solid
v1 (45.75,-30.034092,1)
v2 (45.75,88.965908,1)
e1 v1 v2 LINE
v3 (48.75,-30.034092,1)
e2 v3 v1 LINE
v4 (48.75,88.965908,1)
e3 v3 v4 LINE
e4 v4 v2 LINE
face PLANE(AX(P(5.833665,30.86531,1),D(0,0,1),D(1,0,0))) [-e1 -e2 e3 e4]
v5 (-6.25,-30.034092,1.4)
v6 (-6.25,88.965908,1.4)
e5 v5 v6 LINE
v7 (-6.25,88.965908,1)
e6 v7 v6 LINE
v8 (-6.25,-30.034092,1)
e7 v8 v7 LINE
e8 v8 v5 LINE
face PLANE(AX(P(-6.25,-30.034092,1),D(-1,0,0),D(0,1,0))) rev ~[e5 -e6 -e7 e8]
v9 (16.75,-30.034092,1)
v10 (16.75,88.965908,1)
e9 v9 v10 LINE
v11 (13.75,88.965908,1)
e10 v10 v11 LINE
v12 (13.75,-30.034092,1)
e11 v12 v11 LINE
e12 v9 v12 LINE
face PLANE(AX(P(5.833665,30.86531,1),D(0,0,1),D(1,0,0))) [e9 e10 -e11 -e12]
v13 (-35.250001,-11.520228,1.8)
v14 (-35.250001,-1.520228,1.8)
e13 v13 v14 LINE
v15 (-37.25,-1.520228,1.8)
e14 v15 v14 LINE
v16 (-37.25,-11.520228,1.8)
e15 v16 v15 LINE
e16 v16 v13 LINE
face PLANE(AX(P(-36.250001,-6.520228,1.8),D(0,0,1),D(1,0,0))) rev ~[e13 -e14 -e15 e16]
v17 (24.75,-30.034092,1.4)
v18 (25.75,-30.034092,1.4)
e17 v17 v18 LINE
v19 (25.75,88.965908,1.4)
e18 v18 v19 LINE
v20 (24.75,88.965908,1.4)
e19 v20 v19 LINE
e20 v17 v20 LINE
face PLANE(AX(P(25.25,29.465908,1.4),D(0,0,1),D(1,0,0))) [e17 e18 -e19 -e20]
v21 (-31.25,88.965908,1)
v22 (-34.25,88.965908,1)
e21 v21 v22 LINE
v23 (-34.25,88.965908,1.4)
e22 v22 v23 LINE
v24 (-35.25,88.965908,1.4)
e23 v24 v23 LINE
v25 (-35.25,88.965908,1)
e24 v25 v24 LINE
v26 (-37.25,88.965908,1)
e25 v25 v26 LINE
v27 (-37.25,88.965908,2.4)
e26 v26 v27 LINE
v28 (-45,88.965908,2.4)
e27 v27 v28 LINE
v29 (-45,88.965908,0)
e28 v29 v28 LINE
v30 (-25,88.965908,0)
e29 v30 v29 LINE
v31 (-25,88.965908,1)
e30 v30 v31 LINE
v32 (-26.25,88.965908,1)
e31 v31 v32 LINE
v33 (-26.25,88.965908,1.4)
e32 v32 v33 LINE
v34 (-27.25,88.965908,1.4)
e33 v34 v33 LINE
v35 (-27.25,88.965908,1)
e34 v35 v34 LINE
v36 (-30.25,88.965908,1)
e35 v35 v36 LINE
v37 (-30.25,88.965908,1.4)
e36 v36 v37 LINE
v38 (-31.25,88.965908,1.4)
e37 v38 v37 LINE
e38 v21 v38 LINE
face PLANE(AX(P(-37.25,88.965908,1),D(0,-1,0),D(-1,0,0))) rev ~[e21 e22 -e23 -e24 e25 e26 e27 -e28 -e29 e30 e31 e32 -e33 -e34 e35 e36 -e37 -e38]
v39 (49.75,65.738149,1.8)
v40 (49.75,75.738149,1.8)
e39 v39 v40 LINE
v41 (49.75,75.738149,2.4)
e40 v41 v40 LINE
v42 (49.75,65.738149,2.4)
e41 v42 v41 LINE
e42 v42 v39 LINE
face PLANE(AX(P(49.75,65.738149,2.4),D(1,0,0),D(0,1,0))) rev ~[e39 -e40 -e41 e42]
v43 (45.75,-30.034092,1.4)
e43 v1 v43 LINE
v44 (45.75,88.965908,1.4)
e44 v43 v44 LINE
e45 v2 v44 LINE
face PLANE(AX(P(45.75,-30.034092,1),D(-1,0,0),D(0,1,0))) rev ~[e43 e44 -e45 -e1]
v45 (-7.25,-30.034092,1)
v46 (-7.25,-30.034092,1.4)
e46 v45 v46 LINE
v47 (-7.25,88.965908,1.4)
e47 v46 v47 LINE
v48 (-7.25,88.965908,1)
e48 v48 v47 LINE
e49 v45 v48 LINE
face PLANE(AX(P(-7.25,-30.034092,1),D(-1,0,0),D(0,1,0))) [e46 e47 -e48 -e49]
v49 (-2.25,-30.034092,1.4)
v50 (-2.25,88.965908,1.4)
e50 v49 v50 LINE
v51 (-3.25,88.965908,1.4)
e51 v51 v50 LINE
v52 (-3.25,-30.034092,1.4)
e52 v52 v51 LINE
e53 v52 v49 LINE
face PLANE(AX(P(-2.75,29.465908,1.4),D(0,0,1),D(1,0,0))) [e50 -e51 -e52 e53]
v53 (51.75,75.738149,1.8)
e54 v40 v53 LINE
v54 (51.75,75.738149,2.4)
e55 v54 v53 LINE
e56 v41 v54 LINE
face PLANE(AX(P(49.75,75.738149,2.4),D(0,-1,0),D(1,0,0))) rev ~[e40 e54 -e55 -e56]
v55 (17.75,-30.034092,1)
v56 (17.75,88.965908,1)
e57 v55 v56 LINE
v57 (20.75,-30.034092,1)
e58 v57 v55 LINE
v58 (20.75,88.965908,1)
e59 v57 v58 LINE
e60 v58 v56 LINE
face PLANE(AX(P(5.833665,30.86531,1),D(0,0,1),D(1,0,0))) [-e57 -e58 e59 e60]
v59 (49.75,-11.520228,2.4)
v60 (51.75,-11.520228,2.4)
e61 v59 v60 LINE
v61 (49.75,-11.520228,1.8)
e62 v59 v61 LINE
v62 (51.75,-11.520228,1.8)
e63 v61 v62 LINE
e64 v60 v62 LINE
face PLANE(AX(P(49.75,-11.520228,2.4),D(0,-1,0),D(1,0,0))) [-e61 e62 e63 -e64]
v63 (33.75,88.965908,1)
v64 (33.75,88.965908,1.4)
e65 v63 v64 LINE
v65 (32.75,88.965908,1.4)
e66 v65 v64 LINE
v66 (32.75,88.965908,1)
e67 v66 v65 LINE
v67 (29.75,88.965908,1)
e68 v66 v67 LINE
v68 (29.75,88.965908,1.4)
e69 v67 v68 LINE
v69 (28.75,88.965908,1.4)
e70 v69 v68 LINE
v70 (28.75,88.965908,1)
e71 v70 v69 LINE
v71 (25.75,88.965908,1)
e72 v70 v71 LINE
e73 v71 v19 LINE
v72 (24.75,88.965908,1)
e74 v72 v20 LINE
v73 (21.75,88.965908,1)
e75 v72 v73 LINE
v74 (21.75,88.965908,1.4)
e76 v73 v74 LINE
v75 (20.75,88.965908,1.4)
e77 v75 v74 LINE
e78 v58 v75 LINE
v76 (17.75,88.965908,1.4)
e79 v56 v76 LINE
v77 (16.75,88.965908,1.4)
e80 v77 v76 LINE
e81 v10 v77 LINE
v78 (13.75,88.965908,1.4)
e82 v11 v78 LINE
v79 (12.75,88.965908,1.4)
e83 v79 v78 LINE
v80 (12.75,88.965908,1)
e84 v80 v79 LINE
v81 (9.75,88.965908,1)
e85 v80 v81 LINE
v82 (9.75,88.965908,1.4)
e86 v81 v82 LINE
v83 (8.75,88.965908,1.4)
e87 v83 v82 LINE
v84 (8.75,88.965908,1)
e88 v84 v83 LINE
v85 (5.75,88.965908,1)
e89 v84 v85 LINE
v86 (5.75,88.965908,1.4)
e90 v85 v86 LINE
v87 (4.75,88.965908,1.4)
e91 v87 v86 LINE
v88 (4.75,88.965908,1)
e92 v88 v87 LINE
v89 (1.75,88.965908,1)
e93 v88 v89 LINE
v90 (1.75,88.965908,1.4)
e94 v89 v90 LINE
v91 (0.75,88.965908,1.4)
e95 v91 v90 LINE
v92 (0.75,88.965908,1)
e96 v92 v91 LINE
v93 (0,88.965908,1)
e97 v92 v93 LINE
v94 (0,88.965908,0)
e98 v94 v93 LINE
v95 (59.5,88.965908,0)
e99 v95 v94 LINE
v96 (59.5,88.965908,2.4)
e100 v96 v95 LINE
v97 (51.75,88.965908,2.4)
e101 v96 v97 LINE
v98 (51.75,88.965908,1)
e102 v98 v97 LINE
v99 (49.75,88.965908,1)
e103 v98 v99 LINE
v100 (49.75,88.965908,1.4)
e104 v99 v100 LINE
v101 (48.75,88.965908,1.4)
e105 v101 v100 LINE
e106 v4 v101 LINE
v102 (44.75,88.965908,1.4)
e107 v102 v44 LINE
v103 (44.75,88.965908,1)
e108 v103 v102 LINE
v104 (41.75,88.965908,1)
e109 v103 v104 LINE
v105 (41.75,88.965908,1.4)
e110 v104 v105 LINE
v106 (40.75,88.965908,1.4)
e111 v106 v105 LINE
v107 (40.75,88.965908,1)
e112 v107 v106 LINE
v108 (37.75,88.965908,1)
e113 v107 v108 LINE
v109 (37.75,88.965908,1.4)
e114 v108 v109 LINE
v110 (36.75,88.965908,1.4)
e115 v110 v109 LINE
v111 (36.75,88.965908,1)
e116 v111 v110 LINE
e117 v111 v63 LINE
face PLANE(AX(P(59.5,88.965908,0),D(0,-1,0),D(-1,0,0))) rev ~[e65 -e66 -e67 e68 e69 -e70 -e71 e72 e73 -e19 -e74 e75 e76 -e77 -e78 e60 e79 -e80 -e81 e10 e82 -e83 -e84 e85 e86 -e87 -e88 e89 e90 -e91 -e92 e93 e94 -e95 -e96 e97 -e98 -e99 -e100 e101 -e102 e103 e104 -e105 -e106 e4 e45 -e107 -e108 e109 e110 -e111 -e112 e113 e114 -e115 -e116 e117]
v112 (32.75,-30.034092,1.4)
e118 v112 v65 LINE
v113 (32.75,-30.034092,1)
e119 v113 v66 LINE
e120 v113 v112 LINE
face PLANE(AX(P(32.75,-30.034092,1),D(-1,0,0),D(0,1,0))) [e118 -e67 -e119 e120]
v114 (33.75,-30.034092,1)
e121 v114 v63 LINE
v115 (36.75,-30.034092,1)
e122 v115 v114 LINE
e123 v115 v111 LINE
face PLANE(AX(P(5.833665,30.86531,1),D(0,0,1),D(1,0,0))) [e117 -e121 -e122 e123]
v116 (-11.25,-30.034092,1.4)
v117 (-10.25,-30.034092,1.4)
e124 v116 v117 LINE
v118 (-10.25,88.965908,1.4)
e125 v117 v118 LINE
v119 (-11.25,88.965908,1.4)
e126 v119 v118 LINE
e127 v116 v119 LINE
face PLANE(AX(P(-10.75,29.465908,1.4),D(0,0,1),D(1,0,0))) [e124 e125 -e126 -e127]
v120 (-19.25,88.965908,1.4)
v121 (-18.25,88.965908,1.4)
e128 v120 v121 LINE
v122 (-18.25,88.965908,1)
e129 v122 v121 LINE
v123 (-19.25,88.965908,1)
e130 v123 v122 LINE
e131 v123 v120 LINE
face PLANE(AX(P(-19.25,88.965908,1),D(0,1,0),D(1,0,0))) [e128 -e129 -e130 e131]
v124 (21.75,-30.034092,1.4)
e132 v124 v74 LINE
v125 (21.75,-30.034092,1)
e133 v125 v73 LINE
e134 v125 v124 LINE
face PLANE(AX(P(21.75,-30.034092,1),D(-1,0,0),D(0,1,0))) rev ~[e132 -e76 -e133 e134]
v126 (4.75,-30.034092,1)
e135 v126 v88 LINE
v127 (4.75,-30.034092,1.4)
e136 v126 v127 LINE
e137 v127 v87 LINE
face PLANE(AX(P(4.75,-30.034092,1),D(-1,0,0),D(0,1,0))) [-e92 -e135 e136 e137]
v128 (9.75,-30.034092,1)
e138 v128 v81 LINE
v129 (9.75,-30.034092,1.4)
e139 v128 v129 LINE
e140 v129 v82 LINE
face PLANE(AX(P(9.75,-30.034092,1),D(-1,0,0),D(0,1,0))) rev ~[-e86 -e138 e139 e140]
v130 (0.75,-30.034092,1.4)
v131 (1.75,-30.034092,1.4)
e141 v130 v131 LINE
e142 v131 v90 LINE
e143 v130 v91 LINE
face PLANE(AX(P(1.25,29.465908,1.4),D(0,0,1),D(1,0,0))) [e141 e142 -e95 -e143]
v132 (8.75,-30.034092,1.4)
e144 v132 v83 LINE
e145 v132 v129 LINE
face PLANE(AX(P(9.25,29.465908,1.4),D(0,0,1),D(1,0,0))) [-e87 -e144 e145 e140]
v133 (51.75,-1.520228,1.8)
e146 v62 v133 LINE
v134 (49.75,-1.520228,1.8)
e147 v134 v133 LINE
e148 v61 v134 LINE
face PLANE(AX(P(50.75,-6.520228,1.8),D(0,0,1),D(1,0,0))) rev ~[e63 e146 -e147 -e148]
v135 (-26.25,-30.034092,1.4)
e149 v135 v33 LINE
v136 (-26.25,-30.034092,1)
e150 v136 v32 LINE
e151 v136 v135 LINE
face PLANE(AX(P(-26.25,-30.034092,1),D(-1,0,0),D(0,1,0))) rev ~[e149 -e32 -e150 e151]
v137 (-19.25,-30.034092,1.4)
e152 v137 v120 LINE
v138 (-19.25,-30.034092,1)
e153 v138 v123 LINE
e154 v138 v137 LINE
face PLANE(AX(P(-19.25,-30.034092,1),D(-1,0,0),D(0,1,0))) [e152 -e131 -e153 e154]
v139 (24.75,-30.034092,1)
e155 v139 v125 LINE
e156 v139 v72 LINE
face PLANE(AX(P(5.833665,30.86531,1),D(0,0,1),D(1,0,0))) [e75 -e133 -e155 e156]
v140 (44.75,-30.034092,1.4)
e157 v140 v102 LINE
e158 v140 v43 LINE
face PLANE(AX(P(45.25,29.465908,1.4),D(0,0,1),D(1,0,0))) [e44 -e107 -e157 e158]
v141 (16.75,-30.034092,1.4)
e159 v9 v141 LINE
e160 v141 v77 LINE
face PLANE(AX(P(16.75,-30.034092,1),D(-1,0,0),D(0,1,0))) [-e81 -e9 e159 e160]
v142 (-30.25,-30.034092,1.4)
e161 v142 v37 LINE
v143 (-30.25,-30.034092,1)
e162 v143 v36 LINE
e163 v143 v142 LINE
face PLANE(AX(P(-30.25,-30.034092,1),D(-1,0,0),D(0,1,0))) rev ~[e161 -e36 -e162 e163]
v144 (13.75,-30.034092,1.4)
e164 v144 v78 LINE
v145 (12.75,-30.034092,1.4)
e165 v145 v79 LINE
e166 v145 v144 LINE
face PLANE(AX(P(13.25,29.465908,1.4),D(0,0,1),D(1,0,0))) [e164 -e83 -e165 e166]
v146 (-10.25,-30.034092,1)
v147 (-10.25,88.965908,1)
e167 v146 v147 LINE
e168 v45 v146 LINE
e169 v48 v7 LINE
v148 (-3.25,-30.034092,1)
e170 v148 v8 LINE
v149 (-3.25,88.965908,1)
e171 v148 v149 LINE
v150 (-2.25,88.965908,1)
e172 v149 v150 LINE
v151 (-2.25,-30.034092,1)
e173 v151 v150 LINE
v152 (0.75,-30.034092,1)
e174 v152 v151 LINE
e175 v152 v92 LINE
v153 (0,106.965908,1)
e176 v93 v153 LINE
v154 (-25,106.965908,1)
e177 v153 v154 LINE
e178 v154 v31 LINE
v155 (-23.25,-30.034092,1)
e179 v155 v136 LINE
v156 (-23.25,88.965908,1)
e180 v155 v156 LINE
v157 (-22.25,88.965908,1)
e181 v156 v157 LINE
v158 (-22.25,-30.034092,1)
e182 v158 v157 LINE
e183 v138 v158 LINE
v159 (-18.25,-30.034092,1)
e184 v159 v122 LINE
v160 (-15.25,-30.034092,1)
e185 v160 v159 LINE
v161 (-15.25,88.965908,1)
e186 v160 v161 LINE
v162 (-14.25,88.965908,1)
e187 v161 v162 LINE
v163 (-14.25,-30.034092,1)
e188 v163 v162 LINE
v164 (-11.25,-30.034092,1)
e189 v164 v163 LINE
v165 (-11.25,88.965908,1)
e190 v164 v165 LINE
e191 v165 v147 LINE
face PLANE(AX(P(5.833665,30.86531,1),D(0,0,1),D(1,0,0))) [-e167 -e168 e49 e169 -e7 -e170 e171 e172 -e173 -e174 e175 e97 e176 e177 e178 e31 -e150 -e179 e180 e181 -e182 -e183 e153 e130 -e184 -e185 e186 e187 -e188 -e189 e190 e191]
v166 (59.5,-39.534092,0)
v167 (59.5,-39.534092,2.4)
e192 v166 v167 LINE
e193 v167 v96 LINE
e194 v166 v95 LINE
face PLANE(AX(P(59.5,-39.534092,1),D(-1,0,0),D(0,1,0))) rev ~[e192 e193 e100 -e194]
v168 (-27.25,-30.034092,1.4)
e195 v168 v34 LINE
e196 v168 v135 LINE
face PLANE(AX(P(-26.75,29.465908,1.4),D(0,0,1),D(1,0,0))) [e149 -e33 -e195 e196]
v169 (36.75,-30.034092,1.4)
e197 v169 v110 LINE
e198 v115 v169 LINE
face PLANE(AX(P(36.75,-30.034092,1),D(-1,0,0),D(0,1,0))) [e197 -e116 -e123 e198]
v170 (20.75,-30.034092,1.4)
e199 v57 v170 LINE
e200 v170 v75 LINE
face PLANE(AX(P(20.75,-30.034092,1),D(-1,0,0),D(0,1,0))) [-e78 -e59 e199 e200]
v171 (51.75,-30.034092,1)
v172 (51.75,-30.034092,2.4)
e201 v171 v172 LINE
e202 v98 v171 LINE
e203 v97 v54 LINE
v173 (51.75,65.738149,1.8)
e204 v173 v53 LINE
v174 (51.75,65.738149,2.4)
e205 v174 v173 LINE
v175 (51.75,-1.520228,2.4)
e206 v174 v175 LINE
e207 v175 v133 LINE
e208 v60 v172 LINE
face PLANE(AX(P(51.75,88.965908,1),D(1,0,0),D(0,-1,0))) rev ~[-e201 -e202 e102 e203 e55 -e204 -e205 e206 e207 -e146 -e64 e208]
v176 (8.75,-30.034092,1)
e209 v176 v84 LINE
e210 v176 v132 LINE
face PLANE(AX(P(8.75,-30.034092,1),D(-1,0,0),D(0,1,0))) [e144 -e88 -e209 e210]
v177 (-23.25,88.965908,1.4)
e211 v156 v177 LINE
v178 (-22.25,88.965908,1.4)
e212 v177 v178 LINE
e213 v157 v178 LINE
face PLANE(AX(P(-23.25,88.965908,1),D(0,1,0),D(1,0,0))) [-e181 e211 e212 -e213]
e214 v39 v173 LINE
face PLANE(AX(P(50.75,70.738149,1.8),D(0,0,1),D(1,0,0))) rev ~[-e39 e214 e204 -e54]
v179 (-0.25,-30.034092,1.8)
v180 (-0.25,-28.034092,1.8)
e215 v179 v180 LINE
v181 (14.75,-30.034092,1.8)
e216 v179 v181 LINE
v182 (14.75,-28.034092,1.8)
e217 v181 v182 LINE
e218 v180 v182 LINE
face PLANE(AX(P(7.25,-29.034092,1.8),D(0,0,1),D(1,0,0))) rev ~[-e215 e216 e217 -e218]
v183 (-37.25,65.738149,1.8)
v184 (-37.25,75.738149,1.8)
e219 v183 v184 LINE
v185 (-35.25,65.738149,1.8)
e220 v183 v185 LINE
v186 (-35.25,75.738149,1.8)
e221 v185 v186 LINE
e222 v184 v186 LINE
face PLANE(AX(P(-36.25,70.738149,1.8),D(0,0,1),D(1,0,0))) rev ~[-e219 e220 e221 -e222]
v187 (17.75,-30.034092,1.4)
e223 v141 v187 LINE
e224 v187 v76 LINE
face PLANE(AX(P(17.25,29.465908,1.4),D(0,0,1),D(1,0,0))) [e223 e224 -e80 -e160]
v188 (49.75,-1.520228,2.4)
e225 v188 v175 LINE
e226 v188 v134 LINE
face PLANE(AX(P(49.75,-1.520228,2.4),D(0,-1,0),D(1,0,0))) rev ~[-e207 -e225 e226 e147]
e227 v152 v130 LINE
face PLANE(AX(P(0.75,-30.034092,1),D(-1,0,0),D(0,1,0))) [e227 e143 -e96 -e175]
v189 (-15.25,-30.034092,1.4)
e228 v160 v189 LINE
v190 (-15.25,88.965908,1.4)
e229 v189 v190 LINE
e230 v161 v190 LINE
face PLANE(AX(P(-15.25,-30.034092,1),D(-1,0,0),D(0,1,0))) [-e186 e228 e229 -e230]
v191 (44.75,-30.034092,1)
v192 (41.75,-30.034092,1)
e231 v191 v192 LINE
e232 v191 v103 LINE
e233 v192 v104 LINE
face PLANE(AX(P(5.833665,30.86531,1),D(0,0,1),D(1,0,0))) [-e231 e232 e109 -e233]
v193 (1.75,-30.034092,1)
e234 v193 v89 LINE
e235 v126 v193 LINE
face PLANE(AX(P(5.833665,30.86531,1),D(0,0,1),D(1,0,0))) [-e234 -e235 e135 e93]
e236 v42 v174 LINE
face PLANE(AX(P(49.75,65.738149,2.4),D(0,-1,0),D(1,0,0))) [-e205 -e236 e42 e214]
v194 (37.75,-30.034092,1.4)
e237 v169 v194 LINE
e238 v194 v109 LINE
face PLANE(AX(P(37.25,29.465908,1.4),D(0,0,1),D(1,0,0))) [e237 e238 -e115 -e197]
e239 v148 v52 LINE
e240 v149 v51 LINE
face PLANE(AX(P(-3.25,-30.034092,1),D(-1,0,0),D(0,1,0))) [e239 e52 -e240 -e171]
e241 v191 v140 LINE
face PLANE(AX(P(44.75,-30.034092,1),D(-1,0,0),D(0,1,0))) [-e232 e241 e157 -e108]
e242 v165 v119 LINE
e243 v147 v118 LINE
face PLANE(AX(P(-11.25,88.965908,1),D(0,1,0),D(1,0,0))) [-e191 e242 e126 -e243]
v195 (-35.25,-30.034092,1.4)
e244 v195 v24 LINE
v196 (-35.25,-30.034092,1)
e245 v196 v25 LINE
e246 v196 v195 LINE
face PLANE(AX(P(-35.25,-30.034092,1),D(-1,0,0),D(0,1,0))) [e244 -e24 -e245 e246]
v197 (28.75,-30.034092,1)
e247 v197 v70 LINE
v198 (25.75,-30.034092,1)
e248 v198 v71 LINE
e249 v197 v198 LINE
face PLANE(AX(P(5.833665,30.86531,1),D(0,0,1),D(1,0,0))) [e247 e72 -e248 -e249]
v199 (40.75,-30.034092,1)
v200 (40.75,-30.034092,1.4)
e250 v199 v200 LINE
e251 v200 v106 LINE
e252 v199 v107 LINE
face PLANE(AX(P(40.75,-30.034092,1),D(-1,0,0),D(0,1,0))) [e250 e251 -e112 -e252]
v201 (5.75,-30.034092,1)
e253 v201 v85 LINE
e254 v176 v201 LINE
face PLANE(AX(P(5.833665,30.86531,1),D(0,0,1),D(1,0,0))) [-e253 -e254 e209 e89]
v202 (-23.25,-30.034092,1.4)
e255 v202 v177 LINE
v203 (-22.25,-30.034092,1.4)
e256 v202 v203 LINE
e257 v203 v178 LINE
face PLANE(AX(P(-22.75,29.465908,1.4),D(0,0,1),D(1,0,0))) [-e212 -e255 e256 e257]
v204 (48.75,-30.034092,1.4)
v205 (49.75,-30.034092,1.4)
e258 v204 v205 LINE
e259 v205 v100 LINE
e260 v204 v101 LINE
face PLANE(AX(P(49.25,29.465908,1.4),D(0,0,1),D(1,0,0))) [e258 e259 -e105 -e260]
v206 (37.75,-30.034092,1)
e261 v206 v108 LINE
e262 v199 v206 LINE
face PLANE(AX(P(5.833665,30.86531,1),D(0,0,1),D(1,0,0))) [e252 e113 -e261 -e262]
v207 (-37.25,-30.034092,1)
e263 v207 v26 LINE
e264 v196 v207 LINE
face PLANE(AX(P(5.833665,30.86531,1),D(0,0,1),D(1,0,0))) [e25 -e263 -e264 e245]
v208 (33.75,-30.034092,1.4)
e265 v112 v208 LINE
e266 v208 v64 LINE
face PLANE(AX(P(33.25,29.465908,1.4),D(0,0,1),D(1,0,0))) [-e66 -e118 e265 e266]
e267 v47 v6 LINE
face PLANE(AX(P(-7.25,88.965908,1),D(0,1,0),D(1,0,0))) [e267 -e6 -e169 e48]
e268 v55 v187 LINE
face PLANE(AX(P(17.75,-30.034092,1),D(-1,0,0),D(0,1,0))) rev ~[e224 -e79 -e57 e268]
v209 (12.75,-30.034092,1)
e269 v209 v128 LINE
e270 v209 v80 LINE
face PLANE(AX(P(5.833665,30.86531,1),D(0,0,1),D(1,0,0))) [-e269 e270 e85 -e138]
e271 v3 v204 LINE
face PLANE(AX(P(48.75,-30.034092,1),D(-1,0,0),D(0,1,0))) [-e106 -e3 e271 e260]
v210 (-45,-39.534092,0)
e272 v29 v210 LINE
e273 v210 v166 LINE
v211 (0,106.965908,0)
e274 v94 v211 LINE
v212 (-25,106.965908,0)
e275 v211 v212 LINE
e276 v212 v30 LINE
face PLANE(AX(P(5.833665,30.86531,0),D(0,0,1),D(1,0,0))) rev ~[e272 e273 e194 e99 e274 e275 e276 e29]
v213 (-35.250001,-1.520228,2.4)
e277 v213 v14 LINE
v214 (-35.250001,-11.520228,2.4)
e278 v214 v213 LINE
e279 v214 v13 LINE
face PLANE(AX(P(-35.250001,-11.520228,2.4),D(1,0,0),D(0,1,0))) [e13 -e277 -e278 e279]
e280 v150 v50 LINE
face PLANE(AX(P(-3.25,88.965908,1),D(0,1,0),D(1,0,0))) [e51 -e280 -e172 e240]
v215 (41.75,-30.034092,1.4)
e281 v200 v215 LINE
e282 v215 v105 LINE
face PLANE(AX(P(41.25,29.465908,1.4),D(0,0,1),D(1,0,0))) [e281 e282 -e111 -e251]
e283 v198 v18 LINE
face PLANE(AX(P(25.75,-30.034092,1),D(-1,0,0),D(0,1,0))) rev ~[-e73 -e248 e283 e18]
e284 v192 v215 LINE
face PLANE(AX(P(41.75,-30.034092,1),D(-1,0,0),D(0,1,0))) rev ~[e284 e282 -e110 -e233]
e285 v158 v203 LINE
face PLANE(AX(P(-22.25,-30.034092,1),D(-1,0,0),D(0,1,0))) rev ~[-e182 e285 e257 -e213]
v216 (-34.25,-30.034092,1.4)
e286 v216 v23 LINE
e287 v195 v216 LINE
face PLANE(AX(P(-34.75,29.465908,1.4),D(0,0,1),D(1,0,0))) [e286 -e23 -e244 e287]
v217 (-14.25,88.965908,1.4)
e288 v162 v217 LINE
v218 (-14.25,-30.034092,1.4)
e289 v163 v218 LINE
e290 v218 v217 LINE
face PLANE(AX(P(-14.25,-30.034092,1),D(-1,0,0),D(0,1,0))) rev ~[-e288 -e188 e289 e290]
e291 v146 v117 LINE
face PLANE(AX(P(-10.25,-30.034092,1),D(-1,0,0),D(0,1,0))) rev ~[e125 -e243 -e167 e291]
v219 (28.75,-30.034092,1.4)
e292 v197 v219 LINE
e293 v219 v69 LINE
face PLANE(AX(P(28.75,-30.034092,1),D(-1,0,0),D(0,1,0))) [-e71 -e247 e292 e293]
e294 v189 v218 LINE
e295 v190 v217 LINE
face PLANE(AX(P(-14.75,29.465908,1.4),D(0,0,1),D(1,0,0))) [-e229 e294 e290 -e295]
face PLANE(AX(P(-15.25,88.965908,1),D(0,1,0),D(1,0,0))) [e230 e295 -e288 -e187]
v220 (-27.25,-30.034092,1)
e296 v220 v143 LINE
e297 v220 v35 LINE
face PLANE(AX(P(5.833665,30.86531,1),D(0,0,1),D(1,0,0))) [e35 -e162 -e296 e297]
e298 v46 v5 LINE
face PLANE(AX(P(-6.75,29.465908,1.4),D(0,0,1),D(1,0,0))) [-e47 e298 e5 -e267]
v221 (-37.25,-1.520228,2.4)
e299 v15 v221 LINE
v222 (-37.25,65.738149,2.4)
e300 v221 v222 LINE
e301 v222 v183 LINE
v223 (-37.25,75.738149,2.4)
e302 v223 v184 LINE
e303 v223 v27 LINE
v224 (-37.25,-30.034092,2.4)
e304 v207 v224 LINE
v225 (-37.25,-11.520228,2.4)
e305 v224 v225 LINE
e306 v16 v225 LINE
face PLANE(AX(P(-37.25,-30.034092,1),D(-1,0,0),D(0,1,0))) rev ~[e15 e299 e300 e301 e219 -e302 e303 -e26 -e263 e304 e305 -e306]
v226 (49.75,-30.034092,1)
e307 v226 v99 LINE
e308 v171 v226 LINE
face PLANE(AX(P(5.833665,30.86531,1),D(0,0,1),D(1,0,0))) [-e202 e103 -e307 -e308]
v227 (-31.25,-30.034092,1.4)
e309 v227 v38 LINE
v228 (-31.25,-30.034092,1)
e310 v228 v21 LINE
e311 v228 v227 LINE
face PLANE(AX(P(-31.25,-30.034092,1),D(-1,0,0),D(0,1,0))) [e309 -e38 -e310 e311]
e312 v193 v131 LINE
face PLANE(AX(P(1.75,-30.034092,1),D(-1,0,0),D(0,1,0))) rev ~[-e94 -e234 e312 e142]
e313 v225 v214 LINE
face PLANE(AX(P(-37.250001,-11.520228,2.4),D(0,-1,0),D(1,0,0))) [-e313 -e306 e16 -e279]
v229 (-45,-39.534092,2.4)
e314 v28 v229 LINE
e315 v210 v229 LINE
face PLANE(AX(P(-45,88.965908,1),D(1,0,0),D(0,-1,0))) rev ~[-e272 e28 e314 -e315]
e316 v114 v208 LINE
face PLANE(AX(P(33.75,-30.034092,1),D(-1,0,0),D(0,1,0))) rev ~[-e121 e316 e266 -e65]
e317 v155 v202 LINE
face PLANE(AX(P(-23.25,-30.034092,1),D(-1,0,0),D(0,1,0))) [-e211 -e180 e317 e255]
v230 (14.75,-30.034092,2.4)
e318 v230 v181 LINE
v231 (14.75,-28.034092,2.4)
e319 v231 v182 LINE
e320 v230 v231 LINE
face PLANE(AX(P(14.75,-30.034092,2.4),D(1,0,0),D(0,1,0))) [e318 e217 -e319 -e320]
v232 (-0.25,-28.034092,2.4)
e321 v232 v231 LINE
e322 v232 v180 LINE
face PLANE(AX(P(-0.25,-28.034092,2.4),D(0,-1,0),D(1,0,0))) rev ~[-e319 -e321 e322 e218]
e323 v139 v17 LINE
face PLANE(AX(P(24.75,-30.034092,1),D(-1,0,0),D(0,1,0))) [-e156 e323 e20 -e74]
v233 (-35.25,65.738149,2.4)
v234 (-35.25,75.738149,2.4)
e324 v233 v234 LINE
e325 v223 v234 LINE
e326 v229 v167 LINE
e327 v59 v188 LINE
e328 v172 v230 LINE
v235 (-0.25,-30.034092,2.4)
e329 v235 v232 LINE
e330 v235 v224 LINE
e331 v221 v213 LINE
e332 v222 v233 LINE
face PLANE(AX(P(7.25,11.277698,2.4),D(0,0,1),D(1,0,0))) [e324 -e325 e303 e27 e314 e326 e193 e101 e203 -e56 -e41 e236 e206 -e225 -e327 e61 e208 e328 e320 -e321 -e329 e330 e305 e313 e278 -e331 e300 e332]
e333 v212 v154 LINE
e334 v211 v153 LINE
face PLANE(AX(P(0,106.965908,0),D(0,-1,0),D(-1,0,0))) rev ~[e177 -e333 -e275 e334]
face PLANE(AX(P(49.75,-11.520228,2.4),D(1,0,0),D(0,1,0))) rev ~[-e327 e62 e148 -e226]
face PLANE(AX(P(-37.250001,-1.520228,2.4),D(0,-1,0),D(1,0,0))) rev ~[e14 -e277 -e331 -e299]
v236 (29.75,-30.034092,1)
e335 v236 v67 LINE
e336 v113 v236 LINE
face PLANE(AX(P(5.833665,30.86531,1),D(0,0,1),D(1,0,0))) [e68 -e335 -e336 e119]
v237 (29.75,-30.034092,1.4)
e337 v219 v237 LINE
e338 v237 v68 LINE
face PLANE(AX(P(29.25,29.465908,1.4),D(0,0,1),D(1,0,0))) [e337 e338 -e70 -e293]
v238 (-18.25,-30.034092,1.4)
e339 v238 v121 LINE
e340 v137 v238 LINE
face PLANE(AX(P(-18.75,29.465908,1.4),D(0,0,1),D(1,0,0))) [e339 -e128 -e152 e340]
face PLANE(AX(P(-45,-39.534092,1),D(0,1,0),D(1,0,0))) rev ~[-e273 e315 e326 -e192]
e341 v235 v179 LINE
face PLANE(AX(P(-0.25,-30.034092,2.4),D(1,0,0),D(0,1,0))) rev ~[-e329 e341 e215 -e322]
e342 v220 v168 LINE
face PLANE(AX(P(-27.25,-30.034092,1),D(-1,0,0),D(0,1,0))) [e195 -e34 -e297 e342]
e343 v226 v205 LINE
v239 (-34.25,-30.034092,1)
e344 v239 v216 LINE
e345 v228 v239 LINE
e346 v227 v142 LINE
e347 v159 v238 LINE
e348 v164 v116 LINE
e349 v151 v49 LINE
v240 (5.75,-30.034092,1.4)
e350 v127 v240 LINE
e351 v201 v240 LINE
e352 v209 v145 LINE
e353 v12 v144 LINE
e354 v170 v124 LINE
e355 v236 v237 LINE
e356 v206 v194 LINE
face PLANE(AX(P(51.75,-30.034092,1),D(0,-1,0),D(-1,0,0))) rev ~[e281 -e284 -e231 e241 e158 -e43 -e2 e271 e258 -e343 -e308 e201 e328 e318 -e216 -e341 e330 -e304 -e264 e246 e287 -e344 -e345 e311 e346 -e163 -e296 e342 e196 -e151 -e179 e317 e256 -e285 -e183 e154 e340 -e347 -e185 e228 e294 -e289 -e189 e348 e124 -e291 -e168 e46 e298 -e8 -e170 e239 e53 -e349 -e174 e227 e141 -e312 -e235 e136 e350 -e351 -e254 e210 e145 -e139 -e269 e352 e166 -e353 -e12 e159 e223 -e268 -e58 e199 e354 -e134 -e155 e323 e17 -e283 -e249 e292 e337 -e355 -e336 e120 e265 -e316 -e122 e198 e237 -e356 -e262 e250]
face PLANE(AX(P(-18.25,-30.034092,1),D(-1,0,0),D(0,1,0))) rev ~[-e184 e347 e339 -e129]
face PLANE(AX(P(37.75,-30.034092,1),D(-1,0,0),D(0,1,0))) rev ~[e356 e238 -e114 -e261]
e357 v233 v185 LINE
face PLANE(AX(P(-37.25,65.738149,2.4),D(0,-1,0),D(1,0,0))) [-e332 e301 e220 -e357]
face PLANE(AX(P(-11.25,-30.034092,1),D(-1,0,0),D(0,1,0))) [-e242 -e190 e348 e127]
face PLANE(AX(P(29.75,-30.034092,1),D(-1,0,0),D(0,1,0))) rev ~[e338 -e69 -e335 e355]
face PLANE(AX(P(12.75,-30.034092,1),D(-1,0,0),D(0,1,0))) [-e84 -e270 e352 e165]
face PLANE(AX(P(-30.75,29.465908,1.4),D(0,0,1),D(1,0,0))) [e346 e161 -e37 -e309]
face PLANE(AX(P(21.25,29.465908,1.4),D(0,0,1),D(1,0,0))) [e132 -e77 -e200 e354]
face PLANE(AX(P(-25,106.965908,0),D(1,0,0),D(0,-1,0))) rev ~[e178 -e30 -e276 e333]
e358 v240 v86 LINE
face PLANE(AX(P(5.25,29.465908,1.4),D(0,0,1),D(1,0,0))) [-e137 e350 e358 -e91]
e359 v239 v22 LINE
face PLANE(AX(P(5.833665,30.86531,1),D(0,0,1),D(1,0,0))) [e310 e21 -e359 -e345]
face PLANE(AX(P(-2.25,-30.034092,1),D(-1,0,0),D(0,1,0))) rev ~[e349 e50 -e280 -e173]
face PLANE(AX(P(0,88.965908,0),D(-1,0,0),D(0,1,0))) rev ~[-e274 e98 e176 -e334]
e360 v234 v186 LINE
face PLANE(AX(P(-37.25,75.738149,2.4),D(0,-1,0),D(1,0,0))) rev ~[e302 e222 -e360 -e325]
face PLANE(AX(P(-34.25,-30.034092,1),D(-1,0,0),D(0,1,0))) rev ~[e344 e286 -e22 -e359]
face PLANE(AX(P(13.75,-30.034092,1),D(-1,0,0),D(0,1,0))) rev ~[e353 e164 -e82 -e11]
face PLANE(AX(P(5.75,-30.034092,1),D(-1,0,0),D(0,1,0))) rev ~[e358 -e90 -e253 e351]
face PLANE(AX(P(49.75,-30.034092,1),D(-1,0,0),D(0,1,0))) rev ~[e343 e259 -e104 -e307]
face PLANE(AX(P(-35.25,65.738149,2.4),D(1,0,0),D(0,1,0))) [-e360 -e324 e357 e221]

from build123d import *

# Parameters (mm, degrees)
F1_DEPTH = 1
F3_DEPTH = 1.4
F4_W     = 2
F4_H     = 10
F4_W_2   = 15
F4_H_2   = 2
F5_DEPTH = 0.6
F6_W     = 1
F6_H     = 119
F7_DEPTH = 0.4


with BuildPart() as f1:
    # F0 (on Top) → F1 (new body)
    with BuildSketch(Plane.XY):
        Polygon((-25, 88.965908), (-45, 88.965908), (-45, -39.534092), (59.5, -39.534092), (59.5, 88.965908), (0, 88.965908), (0, 106.965908), (-25, 106.965908), align=None)
    extrude(amount=F1_DEPTH)

    # F2 (on face) → F3 (join)
    with BuildSketch(Plane.XY.offset(1)):
        Polygon((-37.25, -30.034092), (-37.25, 88.965908), (-45, 88.965908), (-45, -39.534092), (59.5, -39.534092), (59.5, 88.965908), (51.75, 88.965908), (51.75, -30.034092), align=None)
    extrude(amount=F3_DEPTH)

    # F4 (on face) → F5 (join)
    with BuildSketch(Plane.XY.offset(2.4)):
        with Locations((50.75, 70.738149)):
            Rectangle(F4_W, F4_H)
        with Locations((50.75, -6.520228)):
            Rectangle(F4_W, F4_H)
        with Locations((7.25, -29.034092)):
            Rectangle(F4_W_2, F4_H_2)
        with Locations((-36.250001, -6.520228)):
            Rectangle(F4_W, F4_H)
        with Locations((-36.25, 70.738149)):
            Rectangle(F4_W, F4_H)
    extrude(amount=-F5_DEPTH)

    # F6 (on face) → F7 (join)
    with BuildSketch(Plane.XY.offset(1)):
        with Locations((-34.75, 29.465908)):
            Rectangle(F6_W, F6_H)
        with Locations((-30.75, 29.465908)):
            Rectangle(F6_W, F6_H)
        with Locations((-26.75, 29.465908)):
            Rectangle(F6_W, F6_H)
        with Locations((-22.75, 29.465908)):
            Rectangle(F6_W, F6_H)
        with Locations((-18.75, 29.465908)):
            Rectangle(F6_W, F6_H)
        with Locations((-14.75, 29.465908)):
            Rectangle(F6_W, F6_H)
        with Locations((-10.75, 29.465908)):
            Rectangle(F6_W, F6_H)
        with Locations((-6.75, 29.465908)):
            Rectangle(F6_W, F6_H)
        with Locations((-2.75, 29.465908)):
            Rectangle(F6_W, F6_H)
        with Locations((1.25, 29.465908)):
            Rectangle(F6_W, F6_H)
        with Locations((5.25, 29.465908)):
            Rectangle(F6_W, F6_H)
        with Locations((9.25, 29.465908)):
            Rectangle(F6_W, F6_H)
        with Locations((13.25, 29.465908)):
            Rectangle(F6_W, F6_H)
        with Locations((17.25, 29.465908)):
            Rectangle(F6_W, F6_H)
        with Locations((21.25, 29.465908)):
            Rectangle(F6_W, F6_H)
        with Locations((25.25, 29.465908)):
            Rectangle(F6_W, F6_H)
        with Locations((29.25, 29.465908)):
            Rectangle(F6_W, F6_H)
        with Locations((33.25, 29.465908)):
            Rectangle(F6_W, F6_H)
        with Locations((37.25, 29.465908)):
            Rectangle(F6_W, F6_H)
        with Locations((41.25, 29.465908)):
            Rectangle(F6_W, F6_H)
        with Locations((49.25, 29.465908)):
            Rectangle(F6_W, F6_H)
        with Locations((45.25, 29.465908)):
            Rectangle(F6_W, F6_H)
    extrude(amount=F7_DEPTH)


solid = f1.part
